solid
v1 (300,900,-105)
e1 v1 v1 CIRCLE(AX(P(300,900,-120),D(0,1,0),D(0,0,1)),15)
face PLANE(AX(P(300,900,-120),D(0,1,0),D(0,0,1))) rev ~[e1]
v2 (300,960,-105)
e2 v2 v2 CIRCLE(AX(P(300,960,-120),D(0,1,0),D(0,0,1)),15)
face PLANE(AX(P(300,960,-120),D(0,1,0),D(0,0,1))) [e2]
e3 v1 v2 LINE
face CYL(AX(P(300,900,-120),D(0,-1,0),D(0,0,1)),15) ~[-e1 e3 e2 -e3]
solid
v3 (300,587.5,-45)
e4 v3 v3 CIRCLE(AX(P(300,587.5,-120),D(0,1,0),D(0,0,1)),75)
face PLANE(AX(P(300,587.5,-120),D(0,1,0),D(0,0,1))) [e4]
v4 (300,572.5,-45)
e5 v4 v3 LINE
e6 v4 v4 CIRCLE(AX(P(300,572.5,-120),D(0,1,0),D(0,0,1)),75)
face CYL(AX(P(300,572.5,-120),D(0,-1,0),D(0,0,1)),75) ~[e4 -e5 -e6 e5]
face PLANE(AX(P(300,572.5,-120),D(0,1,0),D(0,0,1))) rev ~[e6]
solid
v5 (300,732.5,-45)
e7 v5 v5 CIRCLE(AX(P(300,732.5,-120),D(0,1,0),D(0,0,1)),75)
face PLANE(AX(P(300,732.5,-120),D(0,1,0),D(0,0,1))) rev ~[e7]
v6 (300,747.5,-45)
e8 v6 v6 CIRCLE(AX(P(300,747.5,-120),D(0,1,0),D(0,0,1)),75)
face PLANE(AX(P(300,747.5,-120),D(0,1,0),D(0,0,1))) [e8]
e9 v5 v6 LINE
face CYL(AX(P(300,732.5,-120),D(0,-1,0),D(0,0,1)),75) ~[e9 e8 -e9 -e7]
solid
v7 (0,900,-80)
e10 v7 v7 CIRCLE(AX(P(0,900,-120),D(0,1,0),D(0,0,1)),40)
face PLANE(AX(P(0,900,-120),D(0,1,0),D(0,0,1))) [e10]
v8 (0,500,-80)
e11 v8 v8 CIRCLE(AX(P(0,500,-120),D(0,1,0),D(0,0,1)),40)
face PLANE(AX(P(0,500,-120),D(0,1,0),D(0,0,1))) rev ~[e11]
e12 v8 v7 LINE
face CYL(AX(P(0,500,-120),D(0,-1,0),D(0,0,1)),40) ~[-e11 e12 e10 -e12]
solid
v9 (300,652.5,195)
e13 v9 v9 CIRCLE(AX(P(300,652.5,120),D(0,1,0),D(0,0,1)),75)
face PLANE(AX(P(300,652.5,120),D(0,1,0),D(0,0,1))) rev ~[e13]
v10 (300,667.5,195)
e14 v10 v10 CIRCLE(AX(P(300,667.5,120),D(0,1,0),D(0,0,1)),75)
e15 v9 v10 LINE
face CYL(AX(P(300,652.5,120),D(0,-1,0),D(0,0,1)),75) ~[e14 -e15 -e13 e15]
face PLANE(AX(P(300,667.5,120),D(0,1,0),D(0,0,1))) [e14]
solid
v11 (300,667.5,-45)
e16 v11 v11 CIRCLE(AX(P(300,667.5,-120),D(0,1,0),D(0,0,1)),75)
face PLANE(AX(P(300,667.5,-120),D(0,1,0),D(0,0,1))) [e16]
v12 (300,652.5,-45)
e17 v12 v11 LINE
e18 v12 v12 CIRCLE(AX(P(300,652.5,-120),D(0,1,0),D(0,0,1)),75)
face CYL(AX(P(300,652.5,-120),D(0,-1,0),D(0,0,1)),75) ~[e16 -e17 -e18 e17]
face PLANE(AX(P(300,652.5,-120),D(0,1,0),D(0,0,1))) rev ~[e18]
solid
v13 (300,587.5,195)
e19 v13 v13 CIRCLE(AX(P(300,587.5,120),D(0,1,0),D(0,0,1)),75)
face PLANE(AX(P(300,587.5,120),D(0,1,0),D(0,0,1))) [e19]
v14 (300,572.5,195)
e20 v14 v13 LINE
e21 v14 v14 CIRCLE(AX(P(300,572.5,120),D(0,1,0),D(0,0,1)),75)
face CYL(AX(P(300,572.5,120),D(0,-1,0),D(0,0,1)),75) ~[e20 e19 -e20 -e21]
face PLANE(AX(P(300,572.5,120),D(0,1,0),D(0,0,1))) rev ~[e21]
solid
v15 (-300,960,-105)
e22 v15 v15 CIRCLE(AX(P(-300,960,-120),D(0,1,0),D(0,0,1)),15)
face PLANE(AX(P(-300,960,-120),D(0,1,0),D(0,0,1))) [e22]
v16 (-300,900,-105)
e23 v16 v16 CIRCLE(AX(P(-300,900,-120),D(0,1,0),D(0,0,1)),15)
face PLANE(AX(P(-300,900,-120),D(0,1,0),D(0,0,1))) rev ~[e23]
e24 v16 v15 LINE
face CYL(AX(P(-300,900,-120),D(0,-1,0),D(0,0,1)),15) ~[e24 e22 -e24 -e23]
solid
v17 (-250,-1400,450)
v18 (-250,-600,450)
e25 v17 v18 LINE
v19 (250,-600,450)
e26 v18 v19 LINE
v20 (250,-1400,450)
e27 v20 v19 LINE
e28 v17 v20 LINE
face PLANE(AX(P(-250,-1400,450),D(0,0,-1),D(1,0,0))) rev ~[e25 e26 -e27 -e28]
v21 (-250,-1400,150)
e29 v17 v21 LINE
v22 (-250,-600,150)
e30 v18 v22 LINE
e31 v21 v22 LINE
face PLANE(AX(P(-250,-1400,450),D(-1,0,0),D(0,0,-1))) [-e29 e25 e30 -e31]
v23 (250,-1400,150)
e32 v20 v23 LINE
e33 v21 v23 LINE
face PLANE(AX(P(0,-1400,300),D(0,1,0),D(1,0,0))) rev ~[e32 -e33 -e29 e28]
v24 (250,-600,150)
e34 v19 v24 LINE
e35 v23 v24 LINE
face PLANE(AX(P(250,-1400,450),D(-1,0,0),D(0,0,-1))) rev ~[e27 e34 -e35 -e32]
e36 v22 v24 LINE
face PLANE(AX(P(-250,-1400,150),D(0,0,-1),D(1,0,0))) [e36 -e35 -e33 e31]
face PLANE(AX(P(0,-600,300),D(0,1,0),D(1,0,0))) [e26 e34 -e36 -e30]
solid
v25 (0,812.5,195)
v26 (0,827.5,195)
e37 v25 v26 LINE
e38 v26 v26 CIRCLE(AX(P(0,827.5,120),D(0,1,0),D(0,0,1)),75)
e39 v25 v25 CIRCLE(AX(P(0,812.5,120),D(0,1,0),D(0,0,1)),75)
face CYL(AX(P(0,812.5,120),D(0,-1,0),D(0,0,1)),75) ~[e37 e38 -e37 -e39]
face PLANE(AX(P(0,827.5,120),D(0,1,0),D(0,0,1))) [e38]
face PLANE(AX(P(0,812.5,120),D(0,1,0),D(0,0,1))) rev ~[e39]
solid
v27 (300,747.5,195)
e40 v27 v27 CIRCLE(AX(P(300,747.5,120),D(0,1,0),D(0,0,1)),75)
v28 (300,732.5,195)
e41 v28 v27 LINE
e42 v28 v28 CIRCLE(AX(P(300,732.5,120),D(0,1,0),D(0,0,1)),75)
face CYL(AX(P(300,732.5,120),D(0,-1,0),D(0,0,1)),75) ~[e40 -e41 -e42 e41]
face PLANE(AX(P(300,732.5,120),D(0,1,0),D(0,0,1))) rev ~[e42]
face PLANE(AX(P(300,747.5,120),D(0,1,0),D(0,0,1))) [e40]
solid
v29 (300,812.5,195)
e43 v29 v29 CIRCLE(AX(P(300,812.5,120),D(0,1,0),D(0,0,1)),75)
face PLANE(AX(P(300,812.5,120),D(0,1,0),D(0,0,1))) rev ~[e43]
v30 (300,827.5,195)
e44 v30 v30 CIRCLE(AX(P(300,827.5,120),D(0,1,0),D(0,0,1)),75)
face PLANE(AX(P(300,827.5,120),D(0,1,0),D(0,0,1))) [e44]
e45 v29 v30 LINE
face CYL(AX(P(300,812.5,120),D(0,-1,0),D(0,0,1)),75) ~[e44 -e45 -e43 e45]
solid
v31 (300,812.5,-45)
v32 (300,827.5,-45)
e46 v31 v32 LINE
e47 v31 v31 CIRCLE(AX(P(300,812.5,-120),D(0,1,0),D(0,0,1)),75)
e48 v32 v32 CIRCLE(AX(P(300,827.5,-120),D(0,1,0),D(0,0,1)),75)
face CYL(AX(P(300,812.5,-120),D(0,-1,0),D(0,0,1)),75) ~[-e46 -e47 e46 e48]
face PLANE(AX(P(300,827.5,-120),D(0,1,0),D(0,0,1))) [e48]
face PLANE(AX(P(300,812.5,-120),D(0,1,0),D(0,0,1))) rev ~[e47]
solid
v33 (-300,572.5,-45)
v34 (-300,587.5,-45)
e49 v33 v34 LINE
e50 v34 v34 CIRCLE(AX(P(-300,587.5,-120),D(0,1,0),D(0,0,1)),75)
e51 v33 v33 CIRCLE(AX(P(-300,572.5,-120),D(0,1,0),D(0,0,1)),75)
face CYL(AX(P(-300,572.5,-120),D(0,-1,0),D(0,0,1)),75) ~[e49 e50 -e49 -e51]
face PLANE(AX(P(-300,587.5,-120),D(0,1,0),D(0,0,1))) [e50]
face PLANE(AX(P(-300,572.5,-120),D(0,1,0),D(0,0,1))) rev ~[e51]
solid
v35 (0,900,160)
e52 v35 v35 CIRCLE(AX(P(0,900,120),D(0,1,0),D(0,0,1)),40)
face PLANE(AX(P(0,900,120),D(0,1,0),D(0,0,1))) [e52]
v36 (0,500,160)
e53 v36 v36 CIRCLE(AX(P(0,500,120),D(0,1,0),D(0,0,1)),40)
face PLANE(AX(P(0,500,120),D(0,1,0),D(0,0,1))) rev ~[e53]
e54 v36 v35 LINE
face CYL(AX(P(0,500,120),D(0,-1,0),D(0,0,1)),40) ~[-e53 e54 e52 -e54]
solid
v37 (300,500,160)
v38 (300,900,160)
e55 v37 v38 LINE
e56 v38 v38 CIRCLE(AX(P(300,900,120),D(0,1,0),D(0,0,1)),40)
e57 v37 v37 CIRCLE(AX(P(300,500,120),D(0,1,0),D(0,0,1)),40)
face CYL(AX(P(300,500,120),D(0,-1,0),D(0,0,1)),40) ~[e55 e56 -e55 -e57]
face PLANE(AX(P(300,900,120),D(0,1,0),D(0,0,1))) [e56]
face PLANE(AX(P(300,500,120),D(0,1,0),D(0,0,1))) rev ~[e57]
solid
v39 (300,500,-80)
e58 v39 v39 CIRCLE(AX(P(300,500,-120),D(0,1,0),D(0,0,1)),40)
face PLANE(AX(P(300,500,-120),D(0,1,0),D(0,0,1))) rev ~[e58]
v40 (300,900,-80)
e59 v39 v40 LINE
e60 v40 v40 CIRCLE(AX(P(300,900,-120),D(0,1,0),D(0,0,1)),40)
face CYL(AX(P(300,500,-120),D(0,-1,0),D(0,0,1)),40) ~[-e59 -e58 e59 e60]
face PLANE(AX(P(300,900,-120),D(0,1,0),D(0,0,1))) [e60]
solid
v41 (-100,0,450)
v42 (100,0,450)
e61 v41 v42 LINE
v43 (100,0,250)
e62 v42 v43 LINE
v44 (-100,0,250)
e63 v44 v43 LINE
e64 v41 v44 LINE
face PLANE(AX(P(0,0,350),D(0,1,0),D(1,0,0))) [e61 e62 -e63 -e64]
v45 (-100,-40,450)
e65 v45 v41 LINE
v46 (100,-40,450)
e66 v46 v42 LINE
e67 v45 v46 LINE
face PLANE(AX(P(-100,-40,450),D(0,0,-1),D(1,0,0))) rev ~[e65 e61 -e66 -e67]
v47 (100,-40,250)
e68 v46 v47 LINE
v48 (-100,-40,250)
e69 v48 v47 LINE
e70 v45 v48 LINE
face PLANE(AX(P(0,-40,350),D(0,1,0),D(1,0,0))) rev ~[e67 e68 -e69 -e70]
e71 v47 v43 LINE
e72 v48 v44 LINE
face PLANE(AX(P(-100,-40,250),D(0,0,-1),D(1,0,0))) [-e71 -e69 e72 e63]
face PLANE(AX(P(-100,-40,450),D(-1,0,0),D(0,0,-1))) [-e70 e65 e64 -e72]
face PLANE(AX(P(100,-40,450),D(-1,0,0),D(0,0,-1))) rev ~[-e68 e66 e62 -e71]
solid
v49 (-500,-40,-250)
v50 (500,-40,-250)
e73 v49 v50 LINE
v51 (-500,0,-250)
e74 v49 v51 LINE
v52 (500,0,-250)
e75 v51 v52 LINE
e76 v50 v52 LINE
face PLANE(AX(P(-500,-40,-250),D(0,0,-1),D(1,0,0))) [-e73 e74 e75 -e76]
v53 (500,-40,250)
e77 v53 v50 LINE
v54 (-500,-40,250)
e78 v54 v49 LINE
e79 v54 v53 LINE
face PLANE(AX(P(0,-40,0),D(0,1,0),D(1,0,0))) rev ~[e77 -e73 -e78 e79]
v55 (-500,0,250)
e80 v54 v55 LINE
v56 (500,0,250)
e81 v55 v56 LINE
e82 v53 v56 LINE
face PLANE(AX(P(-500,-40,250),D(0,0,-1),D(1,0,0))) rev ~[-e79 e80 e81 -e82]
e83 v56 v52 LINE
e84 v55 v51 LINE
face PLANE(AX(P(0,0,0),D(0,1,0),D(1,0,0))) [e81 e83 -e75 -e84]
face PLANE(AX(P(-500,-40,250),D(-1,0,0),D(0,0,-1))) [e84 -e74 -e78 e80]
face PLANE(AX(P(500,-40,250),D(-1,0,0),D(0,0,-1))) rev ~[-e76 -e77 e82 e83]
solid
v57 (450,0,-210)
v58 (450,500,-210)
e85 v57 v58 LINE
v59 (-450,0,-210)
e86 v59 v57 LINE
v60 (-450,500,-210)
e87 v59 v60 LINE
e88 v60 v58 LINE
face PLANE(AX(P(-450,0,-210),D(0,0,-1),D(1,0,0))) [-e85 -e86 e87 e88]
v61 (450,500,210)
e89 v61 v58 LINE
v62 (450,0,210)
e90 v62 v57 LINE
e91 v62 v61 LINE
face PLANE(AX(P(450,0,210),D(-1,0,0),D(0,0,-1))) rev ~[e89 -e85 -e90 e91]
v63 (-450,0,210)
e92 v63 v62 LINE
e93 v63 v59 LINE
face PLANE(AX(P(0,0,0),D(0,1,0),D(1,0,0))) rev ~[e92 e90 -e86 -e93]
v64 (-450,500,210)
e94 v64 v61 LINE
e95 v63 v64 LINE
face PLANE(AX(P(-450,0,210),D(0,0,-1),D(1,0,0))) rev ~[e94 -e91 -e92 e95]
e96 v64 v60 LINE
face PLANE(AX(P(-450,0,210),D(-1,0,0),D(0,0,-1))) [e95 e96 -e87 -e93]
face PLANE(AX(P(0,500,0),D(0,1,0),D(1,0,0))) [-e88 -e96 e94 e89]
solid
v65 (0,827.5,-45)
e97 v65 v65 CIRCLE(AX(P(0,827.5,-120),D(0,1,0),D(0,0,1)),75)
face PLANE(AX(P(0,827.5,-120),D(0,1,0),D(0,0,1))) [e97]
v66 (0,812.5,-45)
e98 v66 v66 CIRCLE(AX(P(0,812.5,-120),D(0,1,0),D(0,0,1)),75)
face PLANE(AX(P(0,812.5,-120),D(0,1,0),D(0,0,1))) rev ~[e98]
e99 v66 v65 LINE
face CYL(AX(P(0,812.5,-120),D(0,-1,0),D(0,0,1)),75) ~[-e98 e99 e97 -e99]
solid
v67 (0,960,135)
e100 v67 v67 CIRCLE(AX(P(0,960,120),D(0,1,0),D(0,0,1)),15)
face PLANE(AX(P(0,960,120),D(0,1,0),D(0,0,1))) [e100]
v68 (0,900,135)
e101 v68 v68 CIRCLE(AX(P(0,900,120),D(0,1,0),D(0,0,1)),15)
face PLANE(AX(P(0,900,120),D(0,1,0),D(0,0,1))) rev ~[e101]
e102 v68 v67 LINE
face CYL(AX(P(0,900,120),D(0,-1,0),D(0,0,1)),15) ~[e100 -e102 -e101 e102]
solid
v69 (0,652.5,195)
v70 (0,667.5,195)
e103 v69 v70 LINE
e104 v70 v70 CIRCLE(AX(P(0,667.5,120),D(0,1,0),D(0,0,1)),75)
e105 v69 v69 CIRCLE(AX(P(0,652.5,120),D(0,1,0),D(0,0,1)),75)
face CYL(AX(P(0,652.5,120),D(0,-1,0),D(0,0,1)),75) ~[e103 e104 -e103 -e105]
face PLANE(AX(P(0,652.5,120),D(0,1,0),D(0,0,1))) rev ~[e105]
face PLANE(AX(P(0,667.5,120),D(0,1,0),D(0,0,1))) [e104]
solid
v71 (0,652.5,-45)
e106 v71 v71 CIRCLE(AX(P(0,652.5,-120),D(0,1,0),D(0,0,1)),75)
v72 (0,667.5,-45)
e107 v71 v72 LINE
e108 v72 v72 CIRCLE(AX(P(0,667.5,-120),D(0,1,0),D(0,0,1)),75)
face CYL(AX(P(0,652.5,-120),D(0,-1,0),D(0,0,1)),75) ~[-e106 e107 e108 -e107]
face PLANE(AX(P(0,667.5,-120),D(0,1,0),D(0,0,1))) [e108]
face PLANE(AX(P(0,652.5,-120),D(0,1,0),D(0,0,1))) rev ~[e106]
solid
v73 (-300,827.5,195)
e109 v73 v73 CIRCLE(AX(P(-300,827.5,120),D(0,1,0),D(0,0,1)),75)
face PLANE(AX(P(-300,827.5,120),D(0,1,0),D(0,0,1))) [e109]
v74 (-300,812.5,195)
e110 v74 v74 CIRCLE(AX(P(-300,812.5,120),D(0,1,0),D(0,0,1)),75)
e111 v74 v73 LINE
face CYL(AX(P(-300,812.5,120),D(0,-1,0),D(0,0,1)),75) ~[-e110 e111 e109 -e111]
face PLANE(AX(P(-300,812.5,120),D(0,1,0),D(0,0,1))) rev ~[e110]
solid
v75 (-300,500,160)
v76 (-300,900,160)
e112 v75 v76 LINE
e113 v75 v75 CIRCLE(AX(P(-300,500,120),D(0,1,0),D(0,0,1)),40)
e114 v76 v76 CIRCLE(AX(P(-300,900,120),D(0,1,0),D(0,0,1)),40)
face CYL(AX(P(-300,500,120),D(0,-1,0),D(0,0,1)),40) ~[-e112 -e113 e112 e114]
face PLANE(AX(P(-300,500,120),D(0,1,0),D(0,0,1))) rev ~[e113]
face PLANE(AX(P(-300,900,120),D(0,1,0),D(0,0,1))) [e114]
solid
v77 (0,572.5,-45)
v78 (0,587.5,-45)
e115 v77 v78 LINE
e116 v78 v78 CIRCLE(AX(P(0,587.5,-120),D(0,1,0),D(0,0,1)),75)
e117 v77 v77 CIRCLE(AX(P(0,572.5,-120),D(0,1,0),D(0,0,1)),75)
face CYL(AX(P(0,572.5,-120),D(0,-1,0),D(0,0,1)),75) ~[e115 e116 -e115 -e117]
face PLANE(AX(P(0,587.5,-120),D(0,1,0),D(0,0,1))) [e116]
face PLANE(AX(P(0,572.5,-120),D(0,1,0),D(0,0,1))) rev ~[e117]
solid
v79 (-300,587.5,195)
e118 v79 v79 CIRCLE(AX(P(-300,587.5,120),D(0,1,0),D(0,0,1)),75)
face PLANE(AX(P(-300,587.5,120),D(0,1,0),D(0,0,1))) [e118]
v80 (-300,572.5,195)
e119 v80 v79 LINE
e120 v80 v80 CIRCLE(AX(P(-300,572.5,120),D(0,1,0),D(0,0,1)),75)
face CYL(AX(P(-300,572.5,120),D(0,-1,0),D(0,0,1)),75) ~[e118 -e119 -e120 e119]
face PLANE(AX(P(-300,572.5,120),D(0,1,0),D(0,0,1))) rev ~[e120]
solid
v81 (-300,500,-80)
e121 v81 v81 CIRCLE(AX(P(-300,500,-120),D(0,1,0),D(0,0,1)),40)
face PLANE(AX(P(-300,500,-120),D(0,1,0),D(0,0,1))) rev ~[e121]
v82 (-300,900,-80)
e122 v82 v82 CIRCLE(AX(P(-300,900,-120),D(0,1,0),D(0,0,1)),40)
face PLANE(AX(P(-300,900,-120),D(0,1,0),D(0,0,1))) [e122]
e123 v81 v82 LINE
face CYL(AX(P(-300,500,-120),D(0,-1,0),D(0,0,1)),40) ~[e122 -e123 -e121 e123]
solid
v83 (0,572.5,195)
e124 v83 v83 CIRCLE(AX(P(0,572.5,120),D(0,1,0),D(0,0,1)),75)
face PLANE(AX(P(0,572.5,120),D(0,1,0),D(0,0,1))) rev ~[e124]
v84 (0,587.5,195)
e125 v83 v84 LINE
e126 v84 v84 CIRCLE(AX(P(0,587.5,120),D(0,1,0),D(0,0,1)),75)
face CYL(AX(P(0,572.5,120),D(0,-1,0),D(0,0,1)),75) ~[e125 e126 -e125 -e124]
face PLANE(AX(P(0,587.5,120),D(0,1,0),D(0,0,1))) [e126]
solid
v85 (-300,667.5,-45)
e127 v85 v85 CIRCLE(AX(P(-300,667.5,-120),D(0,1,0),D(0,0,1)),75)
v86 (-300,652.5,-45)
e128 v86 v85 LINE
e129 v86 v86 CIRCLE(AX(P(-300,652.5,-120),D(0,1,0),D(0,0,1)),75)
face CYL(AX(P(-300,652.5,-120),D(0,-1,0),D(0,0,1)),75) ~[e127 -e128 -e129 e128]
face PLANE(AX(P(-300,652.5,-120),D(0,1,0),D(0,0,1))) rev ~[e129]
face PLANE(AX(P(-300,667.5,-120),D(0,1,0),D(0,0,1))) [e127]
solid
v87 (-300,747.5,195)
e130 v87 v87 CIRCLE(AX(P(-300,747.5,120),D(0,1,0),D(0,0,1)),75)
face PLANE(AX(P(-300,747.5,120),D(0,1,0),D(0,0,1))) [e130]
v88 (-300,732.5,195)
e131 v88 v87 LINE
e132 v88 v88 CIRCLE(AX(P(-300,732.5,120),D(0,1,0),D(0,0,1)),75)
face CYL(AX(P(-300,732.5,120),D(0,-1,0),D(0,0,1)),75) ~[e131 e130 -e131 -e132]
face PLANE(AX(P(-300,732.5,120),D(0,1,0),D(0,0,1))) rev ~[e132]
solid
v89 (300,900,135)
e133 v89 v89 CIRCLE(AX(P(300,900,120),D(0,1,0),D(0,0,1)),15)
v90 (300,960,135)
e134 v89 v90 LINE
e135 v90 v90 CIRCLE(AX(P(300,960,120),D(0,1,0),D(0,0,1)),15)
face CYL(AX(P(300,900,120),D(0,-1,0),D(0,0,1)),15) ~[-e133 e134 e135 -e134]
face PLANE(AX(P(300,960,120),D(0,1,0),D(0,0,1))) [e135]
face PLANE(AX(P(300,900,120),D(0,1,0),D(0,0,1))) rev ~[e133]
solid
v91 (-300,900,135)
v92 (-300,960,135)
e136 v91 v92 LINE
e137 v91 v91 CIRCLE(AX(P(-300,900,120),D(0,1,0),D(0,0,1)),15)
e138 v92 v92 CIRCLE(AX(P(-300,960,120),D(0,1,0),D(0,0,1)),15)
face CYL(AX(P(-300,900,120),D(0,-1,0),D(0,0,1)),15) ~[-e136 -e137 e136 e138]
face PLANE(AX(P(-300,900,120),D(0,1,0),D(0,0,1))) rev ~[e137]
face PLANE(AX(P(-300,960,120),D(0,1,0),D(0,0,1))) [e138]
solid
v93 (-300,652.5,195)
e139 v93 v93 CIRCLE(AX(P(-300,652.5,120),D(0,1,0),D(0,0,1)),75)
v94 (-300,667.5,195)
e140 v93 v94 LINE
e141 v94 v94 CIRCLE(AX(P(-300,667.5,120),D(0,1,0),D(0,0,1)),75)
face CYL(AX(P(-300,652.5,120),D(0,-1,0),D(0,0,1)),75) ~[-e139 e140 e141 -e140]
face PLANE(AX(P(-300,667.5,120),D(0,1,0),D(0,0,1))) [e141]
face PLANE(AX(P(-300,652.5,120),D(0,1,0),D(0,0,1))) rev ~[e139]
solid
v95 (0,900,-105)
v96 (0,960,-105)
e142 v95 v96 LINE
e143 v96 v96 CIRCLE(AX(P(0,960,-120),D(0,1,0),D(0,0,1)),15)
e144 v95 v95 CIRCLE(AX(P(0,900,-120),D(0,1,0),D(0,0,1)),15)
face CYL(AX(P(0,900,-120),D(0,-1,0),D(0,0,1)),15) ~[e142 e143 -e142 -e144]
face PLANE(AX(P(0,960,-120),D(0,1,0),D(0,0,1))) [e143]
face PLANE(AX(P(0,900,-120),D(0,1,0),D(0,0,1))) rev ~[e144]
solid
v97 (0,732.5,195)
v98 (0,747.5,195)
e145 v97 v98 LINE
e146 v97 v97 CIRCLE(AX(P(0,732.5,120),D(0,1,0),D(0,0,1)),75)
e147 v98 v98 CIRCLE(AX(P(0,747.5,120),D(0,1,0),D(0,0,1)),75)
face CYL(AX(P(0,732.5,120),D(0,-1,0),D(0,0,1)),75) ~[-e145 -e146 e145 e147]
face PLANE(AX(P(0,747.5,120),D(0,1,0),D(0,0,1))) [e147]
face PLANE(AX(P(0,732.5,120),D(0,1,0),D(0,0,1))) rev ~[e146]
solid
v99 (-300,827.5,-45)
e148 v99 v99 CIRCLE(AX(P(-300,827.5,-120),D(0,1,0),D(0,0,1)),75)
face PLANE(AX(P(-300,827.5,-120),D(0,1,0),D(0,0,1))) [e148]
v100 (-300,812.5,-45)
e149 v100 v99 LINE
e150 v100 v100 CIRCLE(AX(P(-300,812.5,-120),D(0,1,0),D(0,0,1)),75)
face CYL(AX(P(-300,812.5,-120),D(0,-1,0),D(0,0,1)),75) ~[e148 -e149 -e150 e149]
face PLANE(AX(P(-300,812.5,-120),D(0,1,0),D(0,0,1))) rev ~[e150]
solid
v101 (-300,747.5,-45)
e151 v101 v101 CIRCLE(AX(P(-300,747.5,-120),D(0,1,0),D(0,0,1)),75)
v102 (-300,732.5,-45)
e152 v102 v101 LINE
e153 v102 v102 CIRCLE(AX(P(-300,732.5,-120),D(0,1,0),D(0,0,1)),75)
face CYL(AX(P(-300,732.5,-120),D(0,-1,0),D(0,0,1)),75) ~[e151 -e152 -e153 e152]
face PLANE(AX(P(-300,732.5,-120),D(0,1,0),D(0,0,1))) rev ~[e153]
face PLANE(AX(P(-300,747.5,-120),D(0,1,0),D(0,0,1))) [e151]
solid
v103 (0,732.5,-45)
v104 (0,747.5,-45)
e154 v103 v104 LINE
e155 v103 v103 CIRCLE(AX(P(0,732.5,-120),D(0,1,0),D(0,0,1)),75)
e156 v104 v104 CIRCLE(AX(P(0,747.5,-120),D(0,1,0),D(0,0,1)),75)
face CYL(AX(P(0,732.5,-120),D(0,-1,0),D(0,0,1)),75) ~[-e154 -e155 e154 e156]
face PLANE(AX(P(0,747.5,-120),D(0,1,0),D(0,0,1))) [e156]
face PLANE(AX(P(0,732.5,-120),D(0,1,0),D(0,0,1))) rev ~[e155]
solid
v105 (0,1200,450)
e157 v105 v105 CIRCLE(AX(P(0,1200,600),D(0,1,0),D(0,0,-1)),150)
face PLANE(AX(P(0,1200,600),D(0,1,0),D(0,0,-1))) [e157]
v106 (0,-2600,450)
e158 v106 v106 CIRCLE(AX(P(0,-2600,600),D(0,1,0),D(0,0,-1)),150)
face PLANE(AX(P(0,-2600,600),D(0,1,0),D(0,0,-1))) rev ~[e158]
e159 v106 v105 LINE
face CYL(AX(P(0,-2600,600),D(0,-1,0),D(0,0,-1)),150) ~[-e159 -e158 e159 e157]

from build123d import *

# Parameters (mm, degrees)
SKETCH1_W               = 900
SKETCH1_H               = 420
TANK_DEPTH              = 500
FRAME_START             = -40
SKETCH2_W               = 1000
SKETCH2_H               = 500
FRAME_DEPTH             = 40
SKETCH3_W               = 200
SKETCH3_H               = 200
FRAME_ARM_DEPTH         = 40
CONTROL_START           = -1400
SKETCH4_W               = 500
SKETCH4_H               = 300
CONTROL_CABINET_DEPTH   = 800
POLE_START              = -2600
SKETCH5_R               = 150
POLE_DEPTH              = 3800
BUSHING_START           = 500
SKETCH6_R               = 40
BUSHING_SOURCE_A_DEPTH  = 400
SHED_START              = 572.5
SKETCH7_R               = 75
SHED_SOURCE_A_1_DEPTH   = 15
SHED_START_2            = 652.5
SKETCH8_R               = 75
SHED_SOURCE_A_2_DEPTH   = 15
SHED_START_3            = 732.5
SKETCH9_R               = 75
SHED_SOURCE_A_3_DEPTH   = 15
SHED_START_4            = 812.5
SKETCH10_R              = 75
SHED_SOURCE_A_4_DEPTH   = 15
TERMINAL_START          = 900
SKETCH11_R              = 15
TERMINAL_SOURCE_A_DEPTH = 60
SKETCH12_R              = 40
BUSHING_SOURCE_B_DEPTH  = 400
SKETCH13_R              = 75
SHED_SOURCE_B_1_DEPTH   = 15
SKETCH14_R              = 75
SHED_SOURCE_B_2_DEPTH   = 15
SKETCH15_R              = 75
SHED_SOURCE_B_3_DEPTH   = 15
SKETCH16_R              = 75
SHED_SOURCE_B_4_DEPTH   = 15
SKETCH17_R              = 15
TERMINAL_SOURCE_B_DEPTH = 60
SKETCH18_R              = 40
BUSHING_SOURCE_C_DEPTH  = 400
SKETCH19_R              = 75
SHED_SOURCE_C_1_DEPTH   = 15
SKETCH20_R              = 75
SHED_SOURCE_C_2_DEPTH   = 15
SKETCH21_R              = 75
SHED_SOURCE_C_3_DEPTH   = 15
SKETCH22_R              = 75
SHED_SOURCE_C_4_DEPTH   = 15
SKETCH23_R              = 15
TERMINAL_SOURCE_C_DEPTH = 60
SKETCH24_R              = 40
BUSHING_LOAD_A_DEPTH    = 400
SKETCH25_R              = 75
SHED_LOAD_A_1_DEPTH     = 15
SKETCH26_R              = 75
SHED_LOAD_A_2_DEPTH     = 15
SKETCH27_R              = 75
SHED_LOAD_A_3_DEPTH     = 15
SKETCH28_R              = 75
SHED_LOAD_A_4_DEPTH     = 15
SKETCH29_R              = 15
TERMINAL_LOAD_A_DEPTH   = 60
SKETCH30_R              = 40
BUSHING_LOAD_B_DEPTH    = 400
SKETCH31_R              = 75
SHED_LOAD_B_1_DEPTH     = 15
SKETCH32_R              = 75
SHED_LOAD_B_2_DEPTH     = 15
SKETCH33_R              = 75
SHED_LOAD_B_3_DEPTH     = 15
SKETCH34_R              = 75
SHED_LOAD_B_4_DEPTH     = 15
SKETCH35_R              = 15
TERMINAL_LOAD_B_DEPTH   = 60
SKETCH36_R              = 40
BUSHING_LOAD_C_DEPTH    = 400
SKETCH37_R              = 75
SHED_LOAD_C_1_DEPTH     = 15
SKETCH38_R              = 75
SHED_LOAD_C_2_DEPTH     = 15
SKETCH39_R              = 75
SHED_LOAD_C_3_DEPTH     = 15
SKETCH40_R              = 75
SHED_LOAD_C_4_DEPTH     = 15
SKETCH41_R              = 15
TERMINAL_LOAD_C_DEPTH   = 60


with BuildPart() as part:
    # Sketch1 → Tank (new body)
    with BuildSketch(Plane(origin=(0, 0, 0), x_dir=(1, 0, 0), z_dir=(0, 1, 0))):
        Rectangle(SKETCH1_W, SKETCH1_H)
    extrude(amount=TANK_DEPTH)


with BuildPart() as body_2:
    # Sketch2 → Frame (new body)
    with BuildSketch(Plane(origin=(0, 0, 0), x_dir=(1, 0, 0), z_dir=(0, 1, 0)).offset(FRAME_START)):
        Rectangle(SKETCH2_W, SKETCH2_H)
    extrude(amount=FRAME_DEPTH)


with BuildPart() as body_3:
    # Sketch3 → Frame arm (new body)
    with BuildSketch(Plane(origin=(0, 0, 0), x_dir=(1, 0, 0), z_dir=(0, 1, 0)).offset(FRAME_START)):
        with Locations((0, -350)):
            Rectangle(SKETCH3_W, SKETCH3_H)
    extrude(amount=FRAME_ARM_DEPTH)


with BuildPart() as body_4:
    # Sketch4 → Control cabinet (new body)
    with BuildSketch(Plane(origin=(0, 0, 0), x_dir=(1, 0, 0), z_dir=(0, 1, 0)).offset(CONTROL_START)):
        with Locations((0, -300)):
            Rectangle(SKETCH4_W, SKETCH4_H)
    extrude(amount=CONTROL_CABINET_DEPTH)


with BuildPart() as body_5:
    # Sketch5 → Pole (new body)
    with BuildSketch(Plane(origin=(0, 0, 0), x_dir=(1, 0, 0), z_dir=(0, 1, 0)).offset(POLE_START)):
        with Locations(Location((0, -600, 0), (0, 0, 90))):
            Circle(SKETCH5_R)
    extrude(amount=POLE_DEPTH)


with BuildPart() as body_6:
    # Sketch6 → Bushing Source A (new body)
    with BuildSketch(Plane(origin=(0, 0, 0), x_dir=(1, 0, 0), z_dir=(0, 1, 0)).offset(BUSHING_START)):
        with Locations(Location((-300, 120, 0), (0, 0, 270))):
            Circle(SKETCH6_R)
    extrude(amount=BUSHING_SOURCE_A_DEPTH)


with BuildPart() as body_7:
    # Sketch7 → Shed Source A 1 (new body)
    with BuildSketch(Plane(origin=(0, 0, 0), x_dir=(1, 0, 0), z_dir=(0, 1, 0)).offset(SHED_START)):
        with Locations(Location((-300, 120, 0), (0, 0, 270))):
            Circle(SKETCH7_R)
    extrude(amount=SHED_SOURCE_A_1_DEPTH)


with BuildPart() as body_8:
    # Sketch8 → Shed Source A 2 (new body)
    with BuildSketch(Plane(origin=(0, 0, 0), x_dir=(1, 0, 0), z_dir=(0, 1, 0)).offset(SHED_START_2)):
        with Locations(Location((-300, 120, 0), (0, 0, 270))):
            Circle(SKETCH8_R)
    extrude(amount=SHED_SOURCE_A_2_DEPTH)


with BuildPart() as body_9:
    # Sketch9 → Shed Source A 3 (new body)
    with BuildSketch(Plane(origin=(0, 0, 0), x_dir=(1, 0, 0), z_dir=(0, 1, 0)).offset(SHED_START_3)):
        with Locations(Location((-300, 120, 0), (0, 0, 270))):
            Circle(SKETCH9_R)
    extrude(amount=SHED_SOURCE_A_3_DEPTH)


with BuildPart() as body_10:
    # Sketch10 → Shed Source A 4 (new body)
    with BuildSketch(Plane(origin=(0, 0, 0), x_dir=(1, 0, 0), z_dir=(0, 1, 0)).offset(SHED_START_4)):
        with Locations(Location((-300, 120, 0), (0, 0, 270))):
            Circle(SKETCH10_R)
    extrude(amount=SHED_SOURCE_A_4_DEPTH)


with BuildPart() as body_11:
    # Sketch11 → Terminal Source A (new body)
    with BuildSketch(Plane(origin=(0, 0, 0), x_dir=(1, 0, 0), z_dir=(0, 1, 0)).offset(TERMINAL_START)):
        with Locations(Location((-300, 120, 0), (0, 0, 270))):
            Circle(SKETCH11_R)
    extrude(amount=TERMINAL_SOURCE_A_DEPTH)


with BuildPart() as body_12:
    # Sketch12 → Bushing Source B (new body)
    with BuildSketch(Plane(origin=(0, 0, 0), x_dir=(1, 0, 0), z_dir=(0, 1, 0)).offset(BUSHING_START)):
        with Locations(Location((0, 120, 0), (0, 0, 270))):
            Circle(SKETCH12_R)
    extrude(amount=BUSHING_SOURCE_B_DEPTH)


with BuildPart() as body_13:
    # Sketch13 → Shed Source B 1 (new body)
    with BuildSketch(Plane(origin=(0, 0, 0), x_dir=(1, 0, 0), z_dir=(0, 1, 0)).offset(SHED_START)):
        with Locations(Location((0, 120, 0), (0, 0, 270))):
            Circle(SKETCH13_R)
    extrude(amount=SHED_SOURCE_B_1_DEPTH)


with BuildPart() as body_14:
    # Sketch14 → Shed Source B 2 (new body)
    with BuildSketch(Plane(origin=(0, 0, 0), x_dir=(1, 0, 0), z_dir=(0, 1, 0)).offset(SHED_START_2)):
        with Locations(Location((0, 120, 0), (0, 0, 270))):
            Circle(SKETCH14_R)
    extrude(amount=SHED_SOURCE_B_2_DEPTH)


with BuildPart() as body_15:
    # Sketch15 → Shed Source B 3 (new body)
    with BuildSketch(Plane(origin=(0, 0, 0), x_dir=(1, 0, 0), z_dir=(0, 1, 0)).offset(SHED_START_3)):
        with Locations(Location((0, 120, 0), (0, 0, 270))):
            Circle(SKETCH15_R)
    extrude(amount=SHED_SOURCE_B_3_DEPTH)


with BuildPart() as body_16:
    # Sketch16 → Shed Source B 4 (new body)
    with BuildSketch(Plane(origin=(0, 0, 0), x_dir=(1, 0, 0), z_dir=(0, 1, 0)).offset(SHED_START_4)):
        with Locations(Location((0, 120, 0), (0, 0, 270))):
            Circle(SKETCH16_R)
    extrude(amount=SHED_SOURCE_B_4_DEPTH)


with BuildPart() as body_17:
    # Sketch17 → Terminal Source B (new body)
    with BuildSketch(Plane(origin=(0, 0, 0), x_dir=(1, 0, 0), z_dir=(0, 1, 0)).offset(TERMINAL_START)):
        with Locations(Location((0, 120, 0), (0, 0, 270))):
            Circle(SKETCH17_R)
    extrude(amount=TERMINAL_SOURCE_B_DEPTH)


with BuildPart() as body_18:
    # Sketch18 → Bushing Source C (new body)
    with BuildSketch(Plane(origin=(0, 0, 0), x_dir=(1, 0, 0), z_dir=(0, 1, 0)).offset(BUSHING_START)):
        with Locations(Location((300, 120, 0), (0, 0, 270))):
            Circle(SKETCH18_R)
    extrude(amount=BUSHING_SOURCE_C_DEPTH)


with BuildPart() as body_19:
    # Sketch19 → Shed Source C 1 (new body)
    with BuildSketch(Plane(origin=(0, 0, 0), x_dir=(1, 0, 0), z_dir=(0, 1, 0)).offset(SHED_START)):
        with Locations(Location((300, 120, 0), (0, 0, 270))):
            Circle(SKETCH19_R)
    extrude(amount=SHED_SOURCE_C_1_DEPTH)


with BuildPart() as body_20:
    # Sketch20 → Shed Source C 2 (new body)
    with BuildSketch(Plane(origin=(0, 0, 0), x_dir=(1, 0, 0), z_dir=(0, 1, 0)).offset(SHED_START_2)):
        with Locations(Location((300, 120, 0), (0, 0, 270))):
            Circle(SKETCH20_R)
    extrude(amount=SHED_SOURCE_C_2_DEPTH)


with BuildPart() as body_21:
    # Sketch21 → Shed Source C 3 (new body)
    with BuildSketch(Plane(origin=(0, 0, 0), x_dir=(1, 0, 0), z_dir=(0, 1, 0)).offset(SHED_START_3)):
        with Locations(Location((300, 120, 0), (0, 0, 270))):
            Circle(SKETCH21_R)
    extrude(amount=SHED_SOURCE_C_3_DEPTH)


with BuildPart() as body_22:
    # Sketch22 → Shed Source C 4 (new body)
    with BuildSketch(Plane(origin=(0, 0, 0), x_dir=(1, 0, 0), z_dir=(0, 1, 0)).offset(SHED_START_4)):
        with Locations(Location((300, 120, 0), (0, 0, 270))):
            Circle(SKETCH22_R)
    extrude(amount=SHED_SOURCE_C_4_DEPTH)


with BuildPart() as body_23:
    # Sketch23 → Terminal Source C (new body)
    with BuildSketch(Plane(origin=(0, 0, 0), x_dir=(1, 0, 0), z_dir=(0, 1, 0)).offset(TERMINAL_START)):
        with Locations(Location((300, 120, 0), (0, 0, 270))):
            Circle(SKETCH23_R)
    extrude(amount=TERMINAL_SOURCE_C_DEPTH)


with BuildPart() as body_24:
    # Sketch24 → Bushing Load A (new body)
    with BuildSketch(Plane(origin=(0, 0, 0), x_dir=(1, 0, 0), z_dir=(0, 1, 0)).offset(BUSHING_START)):
        with Locations(Location((-300, -120, 0), (0, 0, 270))):
            Circle(SKETCH24_R)
    extrude(amount=BUSHING_LOAD_A_DEPTH)


with BuildPart() as body_25:
    # Sketch25 → Shed Load A 1 (new body)
    with BuildSketch(Plane(origin=(0, 0, 0), x_dir=(1, 0, 0), z_dir=(0, 1, 0)).offset(SHED_START)):
        with Locations(Location((-300, -120, 0), (0, 0, 270))):
            Circle(SKETCH25_R)
    extrude(amount=SHED_LOAD_A_1_DEPTH)


with BuildPart() as body_26:
    # Sketch26 → Shed Load A 2 (new body)
    with BuildSketch(Plane(origin=(0, 0, 0), x_dir=(1, 0, 0), z_dir=(0, 1, 0)).offset(SHED_START_2)):
        with Locations(Location((-300, -120, 0), (0, 0, 270))):
            Circle(SKETCH26_R)
    extrude(amount=SHED_LOAD_A_2_DEPTH)


with BuildPart() as body_27:
    # Sketch27 → Shed Load A 3 (new body)
    with BuildSketch(Plane(origin=(0, 0, 0), x_dir=(1, 0, 0), z_dir=(0, 1, 0)).offset(SHED_START_3)):
        with Locations(Location((-300, -120, 0), (0, 0, 270))):
            Circle(SKETCH27_R)
    extrude(amount=SHED_LOAD_A_3_DEPTH)


with BuildPart() as body_28:
    # Sketch28 → Shed Load A 4 (new body)
    with BuildSketch(Plane(origin=(0, 0, 0), x_dir=(1, 0, 0), z_dir=(0, 1, 0)).offset(SHED_START_4)):
        with Locations(Location((-300, -120, 0), (0, 0, 270))):
            Circle(SKETCH28_R)
    extrude(amount=SHED_LOAD_A_4_DEPTH)


with BuildPart() as body_29:
    # Sketch29 → Terminal Load A (new body)
    with BuildSketch(Plane(origin=(0, 0, 0), x_dir=(1, 0, 0), z_dir=(0, 1, 0)).offset(TERMINAL_START)):
        with Locations(Location((-300, -120, 0), (0, 0, 270))):
            Circle(SKETCH29_R)
    extrude(amount=TERMINAL_LOAD_A_DEPTH)


with BuildPart() as body_30:
    # Sketch30 → Bushing Load B (new body)
    with BuildSketch(Plane(origin=(0, 0, 0), x_dir=(1, 0, 0), z_dir=(0, 1, 0)).offset(BUSHING_START)):
        with Locations(Location((0, -120, 0), (0, 0, 270))):
            Circle(SKETCH30_R)
    extrude(amount=BUSHING_LOAD_B_DEPTH)


with BuildPart() as body_31:
    # Sketch31 → Shed Load B 1 (new body)
    with BuildSketch(Plane(origin=(0, 0, 0), x_dir=(1, 0, 0), z_dir=(0, 1, 0)).offset(SHED_START)):
        with Locations(Location((0, -120, 0), (0, 0, 270))):
            Circle(SKETCH31_R)
    extrude(amount=SHED_LOAD_B_1_DEPTH)


with BuildPart() as body_32:
    # Sketch32 → Shed Load B 2 (new body)
    with BuildSketch(Plane(origin=(0, 0, 0), x_dir=(1, 0, 0), z_dir=(0, 1, 0)).offset(SHED_START_2)):
        with Locations(Location((0, -120, 0), (0, 0, 270))):
            Circle(SKETCH32_R)
    extrude(amount=SHED_LOAD_B_2_DEPTH)


with BuildPart() as body_33:
    # Sketch33 → Shed Load B 3 (new body)
    with BuildSketch(Plane(origin=(0, 0, 0), x_dir=(1, 0, 0), z_dir=(0, 1, 0)).offset(SHED_START_3)):
        with Locations(Location((0, -120, 0), (0, 0, 270))):
            Circle(SKETCH33_R)
    extrude(amount=SHED_LOAD_B_3_DEPTH)


with BuildPart() as body_34:
    # Sketch34 → Shed Load B 4 (new body)
    with BuildSketch(Plane(origin=(0, 0, 0), x_dir=(1, 0, 0), z_dir=(0, 1, 0)).offset(SHED_START_4)):
        with Locations(Location((0, -120, 0), (0, 0, 270))):
            Circle(SKETCH34_R)
    extrude(amount=SHED_LOAD_B_4_DEPTH)


with BuildPart() as body_35:
    # Sketch35 → Terminal Load B (new body)
    with BuildSketch(Plane(origin=(0, 0, 0), x_dir=(1, 0, 0), z_dir=(0, 1, 0)).offset(TERMINAL_START)):
        with Locations(Location((0, -120, 0), (0, 0, 270))):
            Circle(SKETCH35_R)
    extrude(amount=TERMINAL_LOAD_B_DEPTH)


with BuildPart() as body_36:
    # Sketch36 → Bushing Load C (new body)
    with BuildSketch(Plane(origin=(0, 0, 0), x_dir=(1, 0, 0), z_dir=(0, 1, 0)).offset(BUSHING_START)):
        with Locations(Location((300, -120, 0), (0, 0, 270))):
            Circle(SKETCH36_R)
    extrude(amount=BUSHING_LOAD_C_DEPTH)


with BuildPart() as body_37:
    # Sketch37 → Shed Load C 1 (new body)
    with BuildSketch(Plane(origin=(0, 0, 0), x_dir=(1, 0, 0), z_dir=(0, 1, 0)).offset(SHED_START)):
        with Locations(Location((300, -120, 0), (0, 0, 270))):
            Circle(SKETCH37_R)
    extrude(amount=SHED_LOAD_C_1_DEPTH)


with BuildPart() as body_38:
    # Sketch38 → Shed Load C 2 (new body)
    with BuildSketch(Plane(origin=(0, 0, 0), x_dir=(1, 0, 0), z_dir=(0, 1, 0)).offset(SHED_START_2)):
        with Locations(Location((300, -120, 0), (0, 0, 270))):
            Circle(SKETCH38_R)
    extrude(amount=SHED_LOAD_C_2_DEPTH)


with BuildPart() as body_39:
    # Sketch39 → Shed Load C 3 (new body)
    with BuildSketch(Plane(origin=(0, 0, 0), x_dir=(1, 0, 0), z_dir=(0, 1, 0)).offset(SHED_START_3)):
        with Locations(Location((300, -120, 0), (0, 0, 270))):
            Circle(SKETCH39_R)
    extrude(amount=SHED_LOAD_C_3_DEPTH)


with BuildPart() as body_40:
    # Sketch40 → Shed Load C 4 (new body)
    with BuildSketch(Plane(origin=(0, 0, 0), x_dir=(1, 0, 0), z_dir=(0, 1, 0)).offset(SHED_START_4)):
        with Locations(Location((300, -120, 0), (0, 0, 270))):
            Circle(SKETCH40_R)
    extrude(amount=SHED_LOAD_C_4_DEPTH)


with BuildPart() as body_41:
    # Sketch41 → Terminal Load C (new body)
    with BuildSketch(Plane(origin=(0, 0, 0), x_dir=(1, 0, 0), z_dir=(0, 1, 0)).offset(TERMINAL_START)):
        with Locations(Location((300, -120, 0), (0, 0, 270))):
            Circle(SKETCH41_R)
    extrude(amount=TERMINAL_LOAD_C_DEPTH)


solid = Compound([part.part, body_2.part, body_3.part, body_4.part, body_5.part, body_6.part, body_7.part, body_8.part, body_9.part, body_10.part, body_11.part, body_12.part, body_13.part, body_14.part, body_15.part, body_16.part, body_17.part, body_18.part, body_19.part, body_20.part, body_21.part, body_22.part, body_23.part, body_24.part, body_25.part, body_26.part, body_27.part, body_28.part, body_29.part, body_30.part, body_31.part, body_32.part, body_33.part, body_34.part, body_35.part, body_36.part, body_37.part, body_38.part, body_39.part, body_40.part, body_41.part])
